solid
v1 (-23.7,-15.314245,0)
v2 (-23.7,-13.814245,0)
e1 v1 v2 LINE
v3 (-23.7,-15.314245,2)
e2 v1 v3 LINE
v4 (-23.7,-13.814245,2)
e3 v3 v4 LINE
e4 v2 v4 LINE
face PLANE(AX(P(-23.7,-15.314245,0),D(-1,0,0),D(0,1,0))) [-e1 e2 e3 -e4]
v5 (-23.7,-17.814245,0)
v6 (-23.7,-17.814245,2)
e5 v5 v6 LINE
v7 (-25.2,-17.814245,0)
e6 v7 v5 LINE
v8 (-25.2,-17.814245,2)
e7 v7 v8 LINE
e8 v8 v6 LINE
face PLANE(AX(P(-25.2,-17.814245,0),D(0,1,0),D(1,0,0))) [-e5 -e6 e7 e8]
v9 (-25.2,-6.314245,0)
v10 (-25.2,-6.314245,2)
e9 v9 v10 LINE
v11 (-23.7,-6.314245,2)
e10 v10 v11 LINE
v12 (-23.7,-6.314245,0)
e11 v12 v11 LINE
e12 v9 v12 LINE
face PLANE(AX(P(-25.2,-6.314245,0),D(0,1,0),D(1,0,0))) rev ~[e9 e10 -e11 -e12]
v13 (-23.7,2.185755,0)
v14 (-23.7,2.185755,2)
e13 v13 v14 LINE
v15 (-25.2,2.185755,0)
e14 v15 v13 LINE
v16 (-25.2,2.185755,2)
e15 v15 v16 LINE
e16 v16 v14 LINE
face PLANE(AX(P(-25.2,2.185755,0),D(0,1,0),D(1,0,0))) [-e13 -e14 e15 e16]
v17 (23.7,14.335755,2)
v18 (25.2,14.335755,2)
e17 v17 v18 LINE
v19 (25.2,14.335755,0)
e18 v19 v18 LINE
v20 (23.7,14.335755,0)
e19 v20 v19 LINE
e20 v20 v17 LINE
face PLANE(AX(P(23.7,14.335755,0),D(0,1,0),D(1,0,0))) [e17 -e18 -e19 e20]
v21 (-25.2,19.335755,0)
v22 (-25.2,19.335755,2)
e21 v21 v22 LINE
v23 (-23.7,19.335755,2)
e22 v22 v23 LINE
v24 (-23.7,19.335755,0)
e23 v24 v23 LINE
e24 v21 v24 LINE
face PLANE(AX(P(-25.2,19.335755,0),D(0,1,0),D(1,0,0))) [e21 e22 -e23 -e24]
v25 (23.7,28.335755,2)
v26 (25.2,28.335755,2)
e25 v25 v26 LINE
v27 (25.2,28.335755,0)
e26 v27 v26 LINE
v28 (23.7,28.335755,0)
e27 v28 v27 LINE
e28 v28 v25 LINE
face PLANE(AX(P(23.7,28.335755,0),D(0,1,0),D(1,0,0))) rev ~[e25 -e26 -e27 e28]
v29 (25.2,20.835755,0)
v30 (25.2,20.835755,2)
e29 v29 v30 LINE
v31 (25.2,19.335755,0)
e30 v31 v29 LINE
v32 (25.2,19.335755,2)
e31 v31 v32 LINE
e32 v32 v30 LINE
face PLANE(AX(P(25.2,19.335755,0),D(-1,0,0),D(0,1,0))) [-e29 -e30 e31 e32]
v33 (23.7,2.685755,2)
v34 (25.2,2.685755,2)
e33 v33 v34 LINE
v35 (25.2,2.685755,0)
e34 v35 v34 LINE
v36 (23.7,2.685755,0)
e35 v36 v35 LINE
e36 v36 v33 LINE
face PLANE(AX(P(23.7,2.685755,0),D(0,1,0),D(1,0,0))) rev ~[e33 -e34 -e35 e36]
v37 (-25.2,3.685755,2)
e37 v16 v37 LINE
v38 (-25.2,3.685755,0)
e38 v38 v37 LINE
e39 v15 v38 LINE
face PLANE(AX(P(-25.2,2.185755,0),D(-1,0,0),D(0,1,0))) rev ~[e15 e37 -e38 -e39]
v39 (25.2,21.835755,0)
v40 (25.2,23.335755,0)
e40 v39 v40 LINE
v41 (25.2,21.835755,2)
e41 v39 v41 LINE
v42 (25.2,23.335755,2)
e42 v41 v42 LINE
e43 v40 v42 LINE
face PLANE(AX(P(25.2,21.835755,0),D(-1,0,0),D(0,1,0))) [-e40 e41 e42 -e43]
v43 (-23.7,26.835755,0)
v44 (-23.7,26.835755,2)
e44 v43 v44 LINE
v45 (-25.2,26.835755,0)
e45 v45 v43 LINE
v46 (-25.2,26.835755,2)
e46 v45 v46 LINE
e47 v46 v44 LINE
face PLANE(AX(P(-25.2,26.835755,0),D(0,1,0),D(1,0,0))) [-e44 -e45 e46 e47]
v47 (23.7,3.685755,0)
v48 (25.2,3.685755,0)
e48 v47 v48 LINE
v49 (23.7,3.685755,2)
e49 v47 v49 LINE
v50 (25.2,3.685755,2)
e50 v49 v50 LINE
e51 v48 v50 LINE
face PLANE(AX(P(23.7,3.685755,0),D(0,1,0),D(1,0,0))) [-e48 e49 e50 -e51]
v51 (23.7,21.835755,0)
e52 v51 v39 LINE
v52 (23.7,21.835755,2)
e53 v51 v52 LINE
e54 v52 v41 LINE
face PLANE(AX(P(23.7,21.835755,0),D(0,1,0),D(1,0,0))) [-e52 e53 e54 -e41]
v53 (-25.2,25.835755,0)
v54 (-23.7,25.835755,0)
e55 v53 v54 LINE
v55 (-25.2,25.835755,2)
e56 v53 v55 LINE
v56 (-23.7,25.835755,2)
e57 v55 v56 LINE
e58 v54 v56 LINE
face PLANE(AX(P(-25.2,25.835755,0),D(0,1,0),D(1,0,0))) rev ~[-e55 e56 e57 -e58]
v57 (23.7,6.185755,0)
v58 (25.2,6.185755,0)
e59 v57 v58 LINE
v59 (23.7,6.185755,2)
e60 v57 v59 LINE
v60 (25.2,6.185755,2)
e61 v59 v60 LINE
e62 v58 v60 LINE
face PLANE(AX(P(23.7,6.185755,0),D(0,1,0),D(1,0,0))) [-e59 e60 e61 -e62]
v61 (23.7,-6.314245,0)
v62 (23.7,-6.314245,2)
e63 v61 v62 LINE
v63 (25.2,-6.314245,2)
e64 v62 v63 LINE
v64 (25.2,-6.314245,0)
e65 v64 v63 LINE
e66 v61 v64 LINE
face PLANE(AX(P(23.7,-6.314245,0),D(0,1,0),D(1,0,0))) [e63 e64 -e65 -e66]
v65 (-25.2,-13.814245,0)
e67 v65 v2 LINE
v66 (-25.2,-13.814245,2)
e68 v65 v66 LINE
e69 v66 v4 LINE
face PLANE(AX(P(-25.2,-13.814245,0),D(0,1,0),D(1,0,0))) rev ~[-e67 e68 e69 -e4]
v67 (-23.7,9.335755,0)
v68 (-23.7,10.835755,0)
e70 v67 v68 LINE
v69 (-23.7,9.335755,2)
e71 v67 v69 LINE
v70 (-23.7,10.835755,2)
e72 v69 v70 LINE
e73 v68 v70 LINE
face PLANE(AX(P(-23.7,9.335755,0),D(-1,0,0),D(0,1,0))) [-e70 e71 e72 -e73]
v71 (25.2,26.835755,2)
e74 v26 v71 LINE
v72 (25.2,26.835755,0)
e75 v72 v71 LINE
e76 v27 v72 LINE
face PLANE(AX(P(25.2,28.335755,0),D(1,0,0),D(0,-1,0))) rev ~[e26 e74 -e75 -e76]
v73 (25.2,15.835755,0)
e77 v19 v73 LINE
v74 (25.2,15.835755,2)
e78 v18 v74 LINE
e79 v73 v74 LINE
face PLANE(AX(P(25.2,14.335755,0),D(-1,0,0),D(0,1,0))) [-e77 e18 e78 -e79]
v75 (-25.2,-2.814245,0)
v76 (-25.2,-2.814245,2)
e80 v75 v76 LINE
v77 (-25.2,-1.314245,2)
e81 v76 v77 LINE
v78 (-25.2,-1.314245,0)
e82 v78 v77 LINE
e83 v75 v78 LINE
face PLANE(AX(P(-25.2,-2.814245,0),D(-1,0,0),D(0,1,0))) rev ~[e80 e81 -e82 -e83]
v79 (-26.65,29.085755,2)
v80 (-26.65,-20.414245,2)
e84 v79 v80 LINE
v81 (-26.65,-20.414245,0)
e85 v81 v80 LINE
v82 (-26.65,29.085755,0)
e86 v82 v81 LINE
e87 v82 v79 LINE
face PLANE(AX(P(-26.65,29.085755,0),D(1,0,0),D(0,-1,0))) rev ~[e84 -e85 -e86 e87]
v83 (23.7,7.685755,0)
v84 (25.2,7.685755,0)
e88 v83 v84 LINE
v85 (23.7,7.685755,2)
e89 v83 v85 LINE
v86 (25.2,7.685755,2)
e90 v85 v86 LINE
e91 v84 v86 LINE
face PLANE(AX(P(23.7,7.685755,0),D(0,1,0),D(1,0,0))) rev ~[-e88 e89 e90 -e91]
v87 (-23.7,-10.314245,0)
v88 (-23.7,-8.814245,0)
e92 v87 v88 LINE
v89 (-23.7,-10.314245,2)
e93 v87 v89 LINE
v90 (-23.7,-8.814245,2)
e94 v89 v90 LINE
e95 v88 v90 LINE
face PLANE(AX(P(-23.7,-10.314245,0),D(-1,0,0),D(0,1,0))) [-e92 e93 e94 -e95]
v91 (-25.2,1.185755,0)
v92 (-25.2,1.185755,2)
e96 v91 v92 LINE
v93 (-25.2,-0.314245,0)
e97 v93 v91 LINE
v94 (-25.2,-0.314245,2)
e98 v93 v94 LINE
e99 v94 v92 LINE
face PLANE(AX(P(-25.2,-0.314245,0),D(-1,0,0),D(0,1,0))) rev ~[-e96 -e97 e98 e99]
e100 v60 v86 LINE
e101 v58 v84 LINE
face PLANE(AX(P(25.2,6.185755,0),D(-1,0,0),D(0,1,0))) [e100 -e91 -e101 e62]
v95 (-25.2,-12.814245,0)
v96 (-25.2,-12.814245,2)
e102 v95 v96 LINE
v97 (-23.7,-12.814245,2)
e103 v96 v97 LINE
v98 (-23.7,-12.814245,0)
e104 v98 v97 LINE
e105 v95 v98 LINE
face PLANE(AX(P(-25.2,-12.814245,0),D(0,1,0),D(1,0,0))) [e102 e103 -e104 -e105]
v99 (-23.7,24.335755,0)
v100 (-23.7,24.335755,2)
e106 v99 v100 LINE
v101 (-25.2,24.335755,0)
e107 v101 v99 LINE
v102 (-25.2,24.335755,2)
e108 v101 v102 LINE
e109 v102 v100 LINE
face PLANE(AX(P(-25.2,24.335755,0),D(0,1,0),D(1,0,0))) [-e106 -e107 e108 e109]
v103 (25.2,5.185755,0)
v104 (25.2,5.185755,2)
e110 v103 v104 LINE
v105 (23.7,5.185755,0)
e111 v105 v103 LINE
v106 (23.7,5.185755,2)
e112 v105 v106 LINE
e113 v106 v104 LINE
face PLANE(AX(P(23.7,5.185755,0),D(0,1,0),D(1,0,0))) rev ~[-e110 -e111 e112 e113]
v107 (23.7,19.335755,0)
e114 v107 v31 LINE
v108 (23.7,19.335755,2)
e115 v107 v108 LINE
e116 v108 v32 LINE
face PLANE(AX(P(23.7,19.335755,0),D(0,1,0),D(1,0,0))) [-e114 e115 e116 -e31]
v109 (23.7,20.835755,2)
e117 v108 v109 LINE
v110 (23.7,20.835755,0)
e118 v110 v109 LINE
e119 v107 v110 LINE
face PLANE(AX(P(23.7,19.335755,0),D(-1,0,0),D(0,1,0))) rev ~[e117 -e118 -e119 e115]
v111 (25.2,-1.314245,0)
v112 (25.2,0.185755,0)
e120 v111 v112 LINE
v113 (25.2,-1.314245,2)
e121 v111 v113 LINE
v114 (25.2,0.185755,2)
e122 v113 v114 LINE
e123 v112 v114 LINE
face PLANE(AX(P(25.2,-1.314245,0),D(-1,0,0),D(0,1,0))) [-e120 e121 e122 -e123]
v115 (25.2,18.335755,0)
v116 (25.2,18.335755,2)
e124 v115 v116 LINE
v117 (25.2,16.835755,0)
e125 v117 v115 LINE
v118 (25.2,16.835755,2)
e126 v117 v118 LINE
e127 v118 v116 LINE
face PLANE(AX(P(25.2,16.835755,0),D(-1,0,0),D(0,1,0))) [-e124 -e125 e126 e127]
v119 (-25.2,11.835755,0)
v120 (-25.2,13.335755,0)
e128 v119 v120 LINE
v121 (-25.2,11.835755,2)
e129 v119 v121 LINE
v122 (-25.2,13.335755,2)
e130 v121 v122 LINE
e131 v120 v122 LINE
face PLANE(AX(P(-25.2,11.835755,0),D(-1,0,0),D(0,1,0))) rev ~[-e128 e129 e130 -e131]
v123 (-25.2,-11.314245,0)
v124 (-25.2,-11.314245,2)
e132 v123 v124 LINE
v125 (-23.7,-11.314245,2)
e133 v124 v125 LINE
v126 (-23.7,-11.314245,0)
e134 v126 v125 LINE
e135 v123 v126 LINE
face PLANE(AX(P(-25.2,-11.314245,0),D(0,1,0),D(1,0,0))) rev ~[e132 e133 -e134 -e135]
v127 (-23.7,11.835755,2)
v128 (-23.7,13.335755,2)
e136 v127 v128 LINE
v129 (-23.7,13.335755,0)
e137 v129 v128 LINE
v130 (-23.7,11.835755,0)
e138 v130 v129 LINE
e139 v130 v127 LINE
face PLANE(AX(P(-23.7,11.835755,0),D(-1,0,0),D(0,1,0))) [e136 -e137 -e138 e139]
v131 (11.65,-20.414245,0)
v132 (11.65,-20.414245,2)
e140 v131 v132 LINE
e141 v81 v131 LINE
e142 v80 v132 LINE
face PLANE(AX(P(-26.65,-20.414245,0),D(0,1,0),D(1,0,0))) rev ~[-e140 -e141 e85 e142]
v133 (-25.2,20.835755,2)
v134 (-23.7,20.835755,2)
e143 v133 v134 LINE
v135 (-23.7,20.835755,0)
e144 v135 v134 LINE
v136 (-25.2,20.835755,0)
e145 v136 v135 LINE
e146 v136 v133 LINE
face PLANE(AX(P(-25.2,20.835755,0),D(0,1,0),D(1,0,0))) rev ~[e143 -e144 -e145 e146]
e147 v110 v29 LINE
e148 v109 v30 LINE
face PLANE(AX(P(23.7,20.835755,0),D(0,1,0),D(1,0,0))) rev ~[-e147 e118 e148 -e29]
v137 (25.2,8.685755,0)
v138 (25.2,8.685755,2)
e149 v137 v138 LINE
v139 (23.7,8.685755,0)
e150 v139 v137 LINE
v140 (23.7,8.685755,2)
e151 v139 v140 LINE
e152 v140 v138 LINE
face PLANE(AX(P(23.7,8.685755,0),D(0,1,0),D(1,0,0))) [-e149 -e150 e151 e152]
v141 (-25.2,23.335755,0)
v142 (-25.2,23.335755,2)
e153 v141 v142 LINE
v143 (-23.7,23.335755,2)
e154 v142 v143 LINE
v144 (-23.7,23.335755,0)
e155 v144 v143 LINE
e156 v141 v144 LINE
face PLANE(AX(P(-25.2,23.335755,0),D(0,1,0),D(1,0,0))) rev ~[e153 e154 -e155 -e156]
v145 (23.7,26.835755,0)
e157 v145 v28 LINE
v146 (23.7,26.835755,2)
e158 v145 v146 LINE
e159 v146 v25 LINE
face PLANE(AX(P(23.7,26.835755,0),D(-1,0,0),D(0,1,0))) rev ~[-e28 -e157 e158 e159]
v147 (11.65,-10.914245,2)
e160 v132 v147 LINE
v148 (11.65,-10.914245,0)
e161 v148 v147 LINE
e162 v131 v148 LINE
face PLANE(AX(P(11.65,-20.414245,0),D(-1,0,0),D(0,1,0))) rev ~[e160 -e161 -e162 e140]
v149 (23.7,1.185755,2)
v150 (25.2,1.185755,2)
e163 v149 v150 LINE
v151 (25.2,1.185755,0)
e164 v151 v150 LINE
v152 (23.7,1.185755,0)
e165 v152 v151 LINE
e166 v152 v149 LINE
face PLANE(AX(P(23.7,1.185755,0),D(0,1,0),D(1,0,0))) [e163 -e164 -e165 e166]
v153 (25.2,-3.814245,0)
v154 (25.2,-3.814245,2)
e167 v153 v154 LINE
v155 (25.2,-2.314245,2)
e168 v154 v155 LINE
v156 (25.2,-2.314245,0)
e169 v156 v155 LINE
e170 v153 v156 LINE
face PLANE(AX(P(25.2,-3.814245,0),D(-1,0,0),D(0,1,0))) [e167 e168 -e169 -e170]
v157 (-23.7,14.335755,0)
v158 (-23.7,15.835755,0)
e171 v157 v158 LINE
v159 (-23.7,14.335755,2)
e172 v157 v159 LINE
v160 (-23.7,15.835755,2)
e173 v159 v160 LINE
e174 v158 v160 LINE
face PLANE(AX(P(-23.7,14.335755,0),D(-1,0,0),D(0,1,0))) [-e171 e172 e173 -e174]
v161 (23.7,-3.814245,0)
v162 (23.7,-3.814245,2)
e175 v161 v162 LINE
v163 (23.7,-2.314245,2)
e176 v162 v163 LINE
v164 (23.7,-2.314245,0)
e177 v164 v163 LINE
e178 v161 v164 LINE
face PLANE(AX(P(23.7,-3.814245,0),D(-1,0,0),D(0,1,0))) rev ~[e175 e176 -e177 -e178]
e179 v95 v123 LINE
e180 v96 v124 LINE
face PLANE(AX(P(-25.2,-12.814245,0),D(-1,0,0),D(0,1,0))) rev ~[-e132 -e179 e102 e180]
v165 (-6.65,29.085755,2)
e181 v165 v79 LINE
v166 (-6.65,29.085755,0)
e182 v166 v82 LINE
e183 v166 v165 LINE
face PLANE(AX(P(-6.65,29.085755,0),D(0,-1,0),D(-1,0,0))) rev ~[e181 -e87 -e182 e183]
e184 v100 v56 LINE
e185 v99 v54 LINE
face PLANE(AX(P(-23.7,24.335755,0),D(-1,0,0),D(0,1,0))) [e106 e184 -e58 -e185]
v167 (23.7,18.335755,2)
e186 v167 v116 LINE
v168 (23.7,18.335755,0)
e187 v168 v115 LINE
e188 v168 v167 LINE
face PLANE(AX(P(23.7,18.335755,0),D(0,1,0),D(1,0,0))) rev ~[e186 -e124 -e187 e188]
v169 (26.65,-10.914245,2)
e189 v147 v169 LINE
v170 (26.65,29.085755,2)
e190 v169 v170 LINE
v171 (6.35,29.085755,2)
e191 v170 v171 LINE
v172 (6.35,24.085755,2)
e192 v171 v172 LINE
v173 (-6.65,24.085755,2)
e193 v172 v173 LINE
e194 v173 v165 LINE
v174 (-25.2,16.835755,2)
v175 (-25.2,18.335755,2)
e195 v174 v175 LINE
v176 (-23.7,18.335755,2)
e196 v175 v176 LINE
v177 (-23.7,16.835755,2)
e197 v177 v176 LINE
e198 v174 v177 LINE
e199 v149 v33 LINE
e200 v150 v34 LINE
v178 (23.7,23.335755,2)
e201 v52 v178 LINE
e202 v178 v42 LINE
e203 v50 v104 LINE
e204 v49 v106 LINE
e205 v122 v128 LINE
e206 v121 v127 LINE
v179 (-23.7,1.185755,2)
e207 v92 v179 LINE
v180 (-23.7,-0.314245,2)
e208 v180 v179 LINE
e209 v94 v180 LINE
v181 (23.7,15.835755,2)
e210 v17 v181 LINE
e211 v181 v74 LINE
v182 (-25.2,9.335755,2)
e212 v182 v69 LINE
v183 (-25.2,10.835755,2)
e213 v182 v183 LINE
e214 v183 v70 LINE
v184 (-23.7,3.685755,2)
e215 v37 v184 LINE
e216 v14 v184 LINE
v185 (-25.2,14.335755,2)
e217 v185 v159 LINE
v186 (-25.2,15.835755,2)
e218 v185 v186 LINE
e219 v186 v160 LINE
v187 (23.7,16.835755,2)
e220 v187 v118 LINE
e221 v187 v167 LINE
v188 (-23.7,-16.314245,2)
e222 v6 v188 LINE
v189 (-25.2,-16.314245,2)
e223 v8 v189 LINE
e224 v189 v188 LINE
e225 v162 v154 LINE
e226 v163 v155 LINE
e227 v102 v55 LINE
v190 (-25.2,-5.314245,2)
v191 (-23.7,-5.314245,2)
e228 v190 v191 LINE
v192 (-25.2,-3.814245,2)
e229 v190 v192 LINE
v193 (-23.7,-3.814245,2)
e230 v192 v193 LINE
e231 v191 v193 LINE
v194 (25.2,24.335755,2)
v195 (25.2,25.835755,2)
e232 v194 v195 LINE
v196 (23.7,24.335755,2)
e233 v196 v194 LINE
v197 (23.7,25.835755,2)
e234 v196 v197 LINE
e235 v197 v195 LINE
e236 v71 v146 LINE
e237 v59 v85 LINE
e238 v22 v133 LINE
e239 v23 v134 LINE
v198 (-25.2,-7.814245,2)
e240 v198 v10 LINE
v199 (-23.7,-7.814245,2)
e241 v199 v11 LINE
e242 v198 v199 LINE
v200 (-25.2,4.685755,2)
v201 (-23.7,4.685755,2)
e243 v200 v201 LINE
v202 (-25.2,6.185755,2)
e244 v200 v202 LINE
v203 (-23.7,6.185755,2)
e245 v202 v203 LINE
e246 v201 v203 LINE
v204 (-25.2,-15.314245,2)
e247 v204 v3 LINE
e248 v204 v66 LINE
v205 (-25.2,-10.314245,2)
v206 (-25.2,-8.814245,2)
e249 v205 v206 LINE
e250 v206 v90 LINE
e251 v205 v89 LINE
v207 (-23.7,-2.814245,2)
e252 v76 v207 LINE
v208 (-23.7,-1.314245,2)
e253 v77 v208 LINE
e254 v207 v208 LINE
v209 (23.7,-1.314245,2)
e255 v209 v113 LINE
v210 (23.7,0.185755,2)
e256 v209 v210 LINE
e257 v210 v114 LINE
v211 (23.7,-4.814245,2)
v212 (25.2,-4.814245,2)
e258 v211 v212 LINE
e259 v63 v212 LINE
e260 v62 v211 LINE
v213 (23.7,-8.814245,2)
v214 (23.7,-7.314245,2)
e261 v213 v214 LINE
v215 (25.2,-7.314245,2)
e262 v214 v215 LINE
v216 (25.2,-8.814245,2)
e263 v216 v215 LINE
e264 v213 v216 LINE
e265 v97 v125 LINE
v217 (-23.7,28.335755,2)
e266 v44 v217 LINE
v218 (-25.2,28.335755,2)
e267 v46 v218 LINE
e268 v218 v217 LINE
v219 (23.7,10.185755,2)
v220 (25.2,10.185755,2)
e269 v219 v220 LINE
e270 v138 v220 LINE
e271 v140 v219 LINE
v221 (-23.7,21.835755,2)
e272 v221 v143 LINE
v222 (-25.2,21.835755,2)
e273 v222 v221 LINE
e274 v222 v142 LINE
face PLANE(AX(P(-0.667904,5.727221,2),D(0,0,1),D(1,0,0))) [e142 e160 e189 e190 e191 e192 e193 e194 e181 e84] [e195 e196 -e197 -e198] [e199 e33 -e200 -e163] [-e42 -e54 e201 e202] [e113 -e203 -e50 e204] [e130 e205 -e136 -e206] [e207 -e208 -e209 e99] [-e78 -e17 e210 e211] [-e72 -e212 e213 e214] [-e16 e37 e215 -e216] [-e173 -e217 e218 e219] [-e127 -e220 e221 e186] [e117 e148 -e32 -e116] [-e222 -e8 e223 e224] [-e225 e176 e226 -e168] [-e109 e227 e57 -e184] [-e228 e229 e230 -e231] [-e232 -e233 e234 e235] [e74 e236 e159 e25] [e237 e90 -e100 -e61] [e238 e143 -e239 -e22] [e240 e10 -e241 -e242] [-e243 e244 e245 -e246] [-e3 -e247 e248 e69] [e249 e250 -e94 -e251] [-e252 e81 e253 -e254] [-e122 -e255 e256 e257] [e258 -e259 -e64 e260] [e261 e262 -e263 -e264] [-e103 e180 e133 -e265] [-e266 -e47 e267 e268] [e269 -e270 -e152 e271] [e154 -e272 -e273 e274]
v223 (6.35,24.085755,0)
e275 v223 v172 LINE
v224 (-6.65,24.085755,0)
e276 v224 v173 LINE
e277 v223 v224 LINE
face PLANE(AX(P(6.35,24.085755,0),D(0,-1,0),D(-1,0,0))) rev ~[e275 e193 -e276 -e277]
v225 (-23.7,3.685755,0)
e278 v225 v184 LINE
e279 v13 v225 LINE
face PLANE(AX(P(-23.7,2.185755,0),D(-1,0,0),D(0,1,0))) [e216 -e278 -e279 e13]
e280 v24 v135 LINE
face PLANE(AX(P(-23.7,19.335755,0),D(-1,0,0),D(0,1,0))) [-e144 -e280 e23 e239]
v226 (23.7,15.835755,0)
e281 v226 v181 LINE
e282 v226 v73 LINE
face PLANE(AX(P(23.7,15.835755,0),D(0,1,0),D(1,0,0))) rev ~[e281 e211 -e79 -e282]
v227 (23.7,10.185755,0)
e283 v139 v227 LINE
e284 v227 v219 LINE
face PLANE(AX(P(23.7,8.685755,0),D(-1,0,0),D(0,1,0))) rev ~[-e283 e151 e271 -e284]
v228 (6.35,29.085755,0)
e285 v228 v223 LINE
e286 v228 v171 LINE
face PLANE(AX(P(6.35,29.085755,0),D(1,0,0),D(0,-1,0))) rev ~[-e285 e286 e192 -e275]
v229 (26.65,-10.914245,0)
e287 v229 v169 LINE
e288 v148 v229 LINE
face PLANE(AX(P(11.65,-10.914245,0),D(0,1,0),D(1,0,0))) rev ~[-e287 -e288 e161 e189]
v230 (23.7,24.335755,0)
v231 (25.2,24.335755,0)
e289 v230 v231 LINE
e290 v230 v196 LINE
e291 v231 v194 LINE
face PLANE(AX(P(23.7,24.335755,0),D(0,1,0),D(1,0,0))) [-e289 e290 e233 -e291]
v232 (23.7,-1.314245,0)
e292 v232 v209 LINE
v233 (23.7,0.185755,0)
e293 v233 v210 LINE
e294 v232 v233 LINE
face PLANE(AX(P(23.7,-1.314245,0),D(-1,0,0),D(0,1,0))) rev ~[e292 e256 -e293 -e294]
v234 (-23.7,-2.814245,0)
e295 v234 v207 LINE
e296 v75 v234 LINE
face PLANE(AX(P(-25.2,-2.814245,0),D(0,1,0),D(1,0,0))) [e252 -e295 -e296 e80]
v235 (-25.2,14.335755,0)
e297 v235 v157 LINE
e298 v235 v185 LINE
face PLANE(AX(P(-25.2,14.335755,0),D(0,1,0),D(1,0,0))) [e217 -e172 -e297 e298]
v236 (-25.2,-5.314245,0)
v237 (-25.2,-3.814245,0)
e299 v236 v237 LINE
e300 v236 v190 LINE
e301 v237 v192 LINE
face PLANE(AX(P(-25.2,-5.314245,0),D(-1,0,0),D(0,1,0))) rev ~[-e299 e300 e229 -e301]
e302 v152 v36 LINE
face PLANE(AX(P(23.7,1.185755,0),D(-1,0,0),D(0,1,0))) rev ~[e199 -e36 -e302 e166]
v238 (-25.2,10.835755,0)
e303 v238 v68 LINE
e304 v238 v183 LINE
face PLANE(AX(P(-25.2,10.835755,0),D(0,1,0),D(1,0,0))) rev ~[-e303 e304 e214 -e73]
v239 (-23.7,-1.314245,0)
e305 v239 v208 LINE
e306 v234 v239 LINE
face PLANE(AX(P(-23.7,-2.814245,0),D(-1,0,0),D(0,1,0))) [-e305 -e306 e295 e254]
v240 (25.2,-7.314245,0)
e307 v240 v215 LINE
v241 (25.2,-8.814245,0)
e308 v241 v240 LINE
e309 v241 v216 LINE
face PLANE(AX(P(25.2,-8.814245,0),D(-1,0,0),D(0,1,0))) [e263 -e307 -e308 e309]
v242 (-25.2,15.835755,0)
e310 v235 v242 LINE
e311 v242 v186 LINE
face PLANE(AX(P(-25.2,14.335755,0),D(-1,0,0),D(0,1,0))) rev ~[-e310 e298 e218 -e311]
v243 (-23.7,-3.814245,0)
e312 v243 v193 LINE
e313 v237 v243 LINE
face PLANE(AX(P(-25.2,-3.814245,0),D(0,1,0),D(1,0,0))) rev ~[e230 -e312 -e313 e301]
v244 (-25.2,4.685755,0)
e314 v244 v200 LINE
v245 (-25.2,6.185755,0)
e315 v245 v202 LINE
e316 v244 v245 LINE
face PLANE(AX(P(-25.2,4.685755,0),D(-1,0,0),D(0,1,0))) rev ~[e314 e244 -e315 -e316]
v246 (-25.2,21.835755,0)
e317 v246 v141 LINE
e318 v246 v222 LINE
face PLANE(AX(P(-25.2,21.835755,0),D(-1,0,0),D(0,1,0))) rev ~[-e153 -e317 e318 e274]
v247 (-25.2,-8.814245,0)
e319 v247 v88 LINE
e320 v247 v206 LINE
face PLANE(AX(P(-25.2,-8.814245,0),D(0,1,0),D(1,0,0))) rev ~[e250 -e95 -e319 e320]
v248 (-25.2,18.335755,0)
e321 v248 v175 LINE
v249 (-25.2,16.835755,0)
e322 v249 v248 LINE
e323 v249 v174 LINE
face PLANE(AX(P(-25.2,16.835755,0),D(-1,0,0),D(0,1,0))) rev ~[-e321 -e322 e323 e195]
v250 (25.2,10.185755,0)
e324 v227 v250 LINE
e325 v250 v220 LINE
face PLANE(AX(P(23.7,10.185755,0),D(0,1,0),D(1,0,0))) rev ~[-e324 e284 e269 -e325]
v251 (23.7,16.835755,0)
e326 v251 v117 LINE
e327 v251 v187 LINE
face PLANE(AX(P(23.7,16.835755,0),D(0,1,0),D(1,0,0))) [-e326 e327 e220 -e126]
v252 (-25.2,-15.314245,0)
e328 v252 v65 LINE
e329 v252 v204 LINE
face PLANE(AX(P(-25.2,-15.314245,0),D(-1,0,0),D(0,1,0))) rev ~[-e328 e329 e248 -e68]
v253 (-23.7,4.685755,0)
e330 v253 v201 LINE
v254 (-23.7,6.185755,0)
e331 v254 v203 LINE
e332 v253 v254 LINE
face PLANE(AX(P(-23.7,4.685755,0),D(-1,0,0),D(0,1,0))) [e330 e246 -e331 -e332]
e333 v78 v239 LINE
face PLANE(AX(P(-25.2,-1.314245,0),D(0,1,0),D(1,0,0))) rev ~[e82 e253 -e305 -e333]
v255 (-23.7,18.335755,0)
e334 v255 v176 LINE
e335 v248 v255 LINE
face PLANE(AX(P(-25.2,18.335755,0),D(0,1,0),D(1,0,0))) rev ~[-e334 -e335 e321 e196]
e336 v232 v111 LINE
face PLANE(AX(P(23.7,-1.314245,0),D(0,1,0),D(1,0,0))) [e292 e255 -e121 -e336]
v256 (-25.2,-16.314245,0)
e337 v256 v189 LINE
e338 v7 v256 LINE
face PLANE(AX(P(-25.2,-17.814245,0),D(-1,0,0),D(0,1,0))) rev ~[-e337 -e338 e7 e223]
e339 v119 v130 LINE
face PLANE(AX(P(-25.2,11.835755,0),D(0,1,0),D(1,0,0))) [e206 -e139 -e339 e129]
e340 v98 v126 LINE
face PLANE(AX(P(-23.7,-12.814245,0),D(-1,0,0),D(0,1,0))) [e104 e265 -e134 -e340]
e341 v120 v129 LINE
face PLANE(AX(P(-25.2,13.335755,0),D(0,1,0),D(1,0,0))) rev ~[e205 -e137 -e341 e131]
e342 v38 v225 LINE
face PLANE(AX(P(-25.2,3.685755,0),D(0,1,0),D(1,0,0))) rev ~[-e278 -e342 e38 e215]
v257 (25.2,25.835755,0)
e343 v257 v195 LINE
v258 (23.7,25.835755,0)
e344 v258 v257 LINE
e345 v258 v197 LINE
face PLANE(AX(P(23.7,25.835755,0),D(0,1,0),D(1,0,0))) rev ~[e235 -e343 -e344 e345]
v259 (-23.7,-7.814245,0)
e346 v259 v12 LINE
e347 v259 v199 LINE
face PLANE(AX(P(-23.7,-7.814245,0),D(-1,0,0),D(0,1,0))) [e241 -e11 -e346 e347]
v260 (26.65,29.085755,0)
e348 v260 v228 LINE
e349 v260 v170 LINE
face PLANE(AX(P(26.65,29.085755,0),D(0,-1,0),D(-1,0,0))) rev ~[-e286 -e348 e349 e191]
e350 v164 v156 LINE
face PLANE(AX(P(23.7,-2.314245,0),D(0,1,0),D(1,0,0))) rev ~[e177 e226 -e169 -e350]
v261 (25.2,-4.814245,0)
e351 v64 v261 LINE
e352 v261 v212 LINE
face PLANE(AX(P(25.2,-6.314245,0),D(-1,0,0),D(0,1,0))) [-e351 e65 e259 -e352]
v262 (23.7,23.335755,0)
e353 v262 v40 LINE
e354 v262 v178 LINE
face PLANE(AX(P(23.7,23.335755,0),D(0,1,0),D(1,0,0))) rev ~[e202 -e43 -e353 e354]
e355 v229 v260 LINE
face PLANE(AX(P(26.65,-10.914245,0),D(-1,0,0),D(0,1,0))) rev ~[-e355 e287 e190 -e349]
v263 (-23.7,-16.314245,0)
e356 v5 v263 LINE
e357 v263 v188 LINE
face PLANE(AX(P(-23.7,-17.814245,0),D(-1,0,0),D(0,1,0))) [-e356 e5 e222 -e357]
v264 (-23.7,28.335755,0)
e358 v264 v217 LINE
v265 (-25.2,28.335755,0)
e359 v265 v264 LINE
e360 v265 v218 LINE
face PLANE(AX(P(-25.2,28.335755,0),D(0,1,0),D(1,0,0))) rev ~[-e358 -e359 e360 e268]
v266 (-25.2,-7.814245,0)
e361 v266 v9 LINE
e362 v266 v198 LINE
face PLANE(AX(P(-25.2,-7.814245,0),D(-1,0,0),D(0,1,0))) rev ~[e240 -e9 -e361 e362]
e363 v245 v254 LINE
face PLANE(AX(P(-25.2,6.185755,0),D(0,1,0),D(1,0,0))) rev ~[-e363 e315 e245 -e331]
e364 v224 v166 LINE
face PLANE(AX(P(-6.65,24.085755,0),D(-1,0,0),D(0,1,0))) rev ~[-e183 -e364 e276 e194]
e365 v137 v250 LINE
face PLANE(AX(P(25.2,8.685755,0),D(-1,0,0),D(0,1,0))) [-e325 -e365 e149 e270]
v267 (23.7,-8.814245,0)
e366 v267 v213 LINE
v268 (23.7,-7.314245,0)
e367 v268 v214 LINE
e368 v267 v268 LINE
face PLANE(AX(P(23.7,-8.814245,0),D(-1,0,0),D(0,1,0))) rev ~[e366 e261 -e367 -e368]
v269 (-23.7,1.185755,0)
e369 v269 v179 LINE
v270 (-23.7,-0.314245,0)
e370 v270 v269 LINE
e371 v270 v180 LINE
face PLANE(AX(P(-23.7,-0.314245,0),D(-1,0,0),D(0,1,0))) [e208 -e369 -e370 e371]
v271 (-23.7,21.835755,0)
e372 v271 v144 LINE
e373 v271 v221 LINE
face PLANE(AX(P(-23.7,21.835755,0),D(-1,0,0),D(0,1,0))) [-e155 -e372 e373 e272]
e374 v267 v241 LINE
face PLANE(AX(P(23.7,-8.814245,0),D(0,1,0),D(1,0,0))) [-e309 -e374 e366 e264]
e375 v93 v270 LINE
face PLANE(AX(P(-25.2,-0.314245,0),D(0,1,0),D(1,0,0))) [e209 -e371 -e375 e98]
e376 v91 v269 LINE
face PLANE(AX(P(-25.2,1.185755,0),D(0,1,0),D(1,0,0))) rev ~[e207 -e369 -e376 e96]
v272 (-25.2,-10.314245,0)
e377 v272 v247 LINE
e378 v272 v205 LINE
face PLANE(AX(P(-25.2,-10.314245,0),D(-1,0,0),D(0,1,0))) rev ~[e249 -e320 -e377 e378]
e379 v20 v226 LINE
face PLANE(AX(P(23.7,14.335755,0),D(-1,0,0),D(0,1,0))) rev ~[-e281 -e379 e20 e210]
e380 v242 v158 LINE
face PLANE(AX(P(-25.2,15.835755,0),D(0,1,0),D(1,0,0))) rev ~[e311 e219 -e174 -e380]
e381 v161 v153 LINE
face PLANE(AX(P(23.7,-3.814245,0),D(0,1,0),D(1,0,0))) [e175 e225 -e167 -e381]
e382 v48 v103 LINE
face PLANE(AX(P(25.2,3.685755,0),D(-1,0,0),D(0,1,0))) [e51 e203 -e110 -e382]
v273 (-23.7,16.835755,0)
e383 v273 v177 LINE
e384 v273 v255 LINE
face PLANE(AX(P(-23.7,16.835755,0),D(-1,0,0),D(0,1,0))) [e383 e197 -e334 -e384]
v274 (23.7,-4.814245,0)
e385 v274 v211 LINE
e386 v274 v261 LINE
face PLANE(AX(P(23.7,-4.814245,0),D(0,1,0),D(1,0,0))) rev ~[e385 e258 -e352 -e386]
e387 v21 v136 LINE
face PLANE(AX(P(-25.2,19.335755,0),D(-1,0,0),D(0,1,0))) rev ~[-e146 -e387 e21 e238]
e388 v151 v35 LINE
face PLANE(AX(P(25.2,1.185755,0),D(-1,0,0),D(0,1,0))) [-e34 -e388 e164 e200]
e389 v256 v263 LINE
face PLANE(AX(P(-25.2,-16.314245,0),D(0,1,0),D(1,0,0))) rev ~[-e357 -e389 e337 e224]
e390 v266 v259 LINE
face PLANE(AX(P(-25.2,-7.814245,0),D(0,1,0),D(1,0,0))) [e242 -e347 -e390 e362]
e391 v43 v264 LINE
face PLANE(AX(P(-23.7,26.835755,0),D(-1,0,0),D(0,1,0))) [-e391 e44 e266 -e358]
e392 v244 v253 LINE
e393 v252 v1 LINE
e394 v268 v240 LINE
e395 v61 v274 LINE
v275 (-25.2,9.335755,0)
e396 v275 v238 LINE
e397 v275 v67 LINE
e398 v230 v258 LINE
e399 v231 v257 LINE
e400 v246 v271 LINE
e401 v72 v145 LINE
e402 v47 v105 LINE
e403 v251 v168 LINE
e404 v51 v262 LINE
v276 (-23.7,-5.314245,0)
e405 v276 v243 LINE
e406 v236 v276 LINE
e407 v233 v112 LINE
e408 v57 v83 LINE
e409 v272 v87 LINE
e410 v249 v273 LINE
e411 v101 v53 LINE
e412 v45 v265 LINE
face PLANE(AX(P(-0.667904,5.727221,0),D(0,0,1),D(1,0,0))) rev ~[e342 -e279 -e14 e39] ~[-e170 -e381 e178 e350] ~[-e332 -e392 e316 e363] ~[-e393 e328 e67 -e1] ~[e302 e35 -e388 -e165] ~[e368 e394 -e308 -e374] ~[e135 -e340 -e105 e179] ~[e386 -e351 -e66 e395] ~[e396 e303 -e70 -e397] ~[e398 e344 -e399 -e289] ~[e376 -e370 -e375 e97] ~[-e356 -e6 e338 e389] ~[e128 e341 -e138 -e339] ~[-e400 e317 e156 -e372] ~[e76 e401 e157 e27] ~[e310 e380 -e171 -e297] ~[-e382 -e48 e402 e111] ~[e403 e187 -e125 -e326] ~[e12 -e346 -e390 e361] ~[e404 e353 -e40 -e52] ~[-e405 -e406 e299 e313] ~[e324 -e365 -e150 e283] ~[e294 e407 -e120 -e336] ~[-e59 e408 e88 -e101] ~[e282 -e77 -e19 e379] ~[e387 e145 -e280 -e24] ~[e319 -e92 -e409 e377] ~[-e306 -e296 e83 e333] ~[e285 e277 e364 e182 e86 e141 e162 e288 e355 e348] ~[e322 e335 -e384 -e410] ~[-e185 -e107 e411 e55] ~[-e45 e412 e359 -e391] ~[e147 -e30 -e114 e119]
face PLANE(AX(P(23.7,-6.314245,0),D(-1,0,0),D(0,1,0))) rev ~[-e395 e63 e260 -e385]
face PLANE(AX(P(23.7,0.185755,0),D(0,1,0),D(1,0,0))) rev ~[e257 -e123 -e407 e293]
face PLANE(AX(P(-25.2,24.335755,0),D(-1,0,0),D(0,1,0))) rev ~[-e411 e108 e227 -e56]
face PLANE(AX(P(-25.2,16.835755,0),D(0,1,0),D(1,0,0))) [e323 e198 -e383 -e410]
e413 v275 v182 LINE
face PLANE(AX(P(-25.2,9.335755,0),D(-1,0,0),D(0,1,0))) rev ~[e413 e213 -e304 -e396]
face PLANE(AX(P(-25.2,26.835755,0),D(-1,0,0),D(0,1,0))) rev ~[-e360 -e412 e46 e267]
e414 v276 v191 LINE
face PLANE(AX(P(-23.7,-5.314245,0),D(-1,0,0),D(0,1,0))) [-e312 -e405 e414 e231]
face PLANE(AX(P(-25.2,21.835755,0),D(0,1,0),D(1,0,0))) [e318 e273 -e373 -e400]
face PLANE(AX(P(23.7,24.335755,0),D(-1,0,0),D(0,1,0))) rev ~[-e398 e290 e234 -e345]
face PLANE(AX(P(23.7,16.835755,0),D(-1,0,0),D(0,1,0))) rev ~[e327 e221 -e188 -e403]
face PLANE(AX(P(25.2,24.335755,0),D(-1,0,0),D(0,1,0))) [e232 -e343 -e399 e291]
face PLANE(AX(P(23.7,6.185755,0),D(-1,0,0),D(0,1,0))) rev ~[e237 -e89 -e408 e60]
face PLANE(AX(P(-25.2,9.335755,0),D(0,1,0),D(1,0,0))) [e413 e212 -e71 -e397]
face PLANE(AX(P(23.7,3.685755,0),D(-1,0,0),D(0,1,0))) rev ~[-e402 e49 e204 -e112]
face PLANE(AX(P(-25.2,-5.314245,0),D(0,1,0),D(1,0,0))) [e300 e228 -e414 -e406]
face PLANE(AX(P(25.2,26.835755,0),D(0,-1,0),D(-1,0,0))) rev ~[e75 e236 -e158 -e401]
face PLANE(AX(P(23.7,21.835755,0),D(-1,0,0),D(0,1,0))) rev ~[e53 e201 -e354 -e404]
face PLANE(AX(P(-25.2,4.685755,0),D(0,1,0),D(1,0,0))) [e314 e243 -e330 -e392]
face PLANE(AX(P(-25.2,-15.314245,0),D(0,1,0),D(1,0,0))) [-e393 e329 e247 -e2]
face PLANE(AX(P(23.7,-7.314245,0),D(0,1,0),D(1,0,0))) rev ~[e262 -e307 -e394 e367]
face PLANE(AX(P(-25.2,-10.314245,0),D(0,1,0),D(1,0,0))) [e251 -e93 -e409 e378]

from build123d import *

# Parameters (mm, degrees)
F0_W     = 1.5
F0_H     = 1.5
F1_DEPTH = 2


with BuildPart() as f1:
    # F0 (on Top) → F1 (new body)
    with BuildSketch(Plane.XY):
        Polygon((26.65, -10.914245), (26.65, 29.085755), (25.45, 29.085755), (23.45, 29.085755), (6.35, 29.085755), (6.35, 24.085755), (-6.65, 24.085755), (-6.65, 29.085755), (-23.45, 29.085755), (-25.45, 29.085755), (-26.65, 29.085755), (-26.65, -20.414245), (11.65, -20.414245), (11.65, -10.914245), align=None)
        with Locations((-24.45, -17.064245)):
            Rectangle(F0_W, F0_H, mode=Mode.SUBTRACT)
        with Locations((-24.45, -14.564245)):
            Rectangle(F0_W, F0_H, mode=Mode.SUBTRACT)
        with Locations((-24.45, -12.064245)):
            Rectangle(F0_W, F0_H, mode=Mode.SUBTRACT)
        with Locations((-24.45, -9.564245)):
            Rectangle(F0_W, F0_H, mode=Mode.SUBTRACT)
        with Locations((-24.45, -7.064245)):
            Rectangle(F0_W, F0_H, mode=Mode.SUBTRACT)
        with Locations((-24.45, -4.564245)):
            Rectangle(F0_W, F0_H, mode=Mode.SUBTRACT)
        with Locations((-24.45, -2.064245)):
            Rectangle(F0_W, F0_H, mode=Mode.SUBTRACT)
        with Locations((-24.45, 0.435755)):
            Rectangle(F0_W, F0_H, mode=Mode.SUBTRACT)
        with Locations((-24.45, 2.935755)):
            Rectangle(F0_W, F0_H, mode=Mode.SUBTRACT)
        with Locations((24.45, -8.064245)):
            Rectangle(F0_W, F0_H, mode=Mode.SUBTRACT)
        with Locations((24.45, -5.564245)):
            Rectangle(F0_W, F0_H, mode=Mode.SUBTRACT)
        with Locations((24.45, -3.064245)):
            Rectangle(F0_W, F0_H, mode=Mode.SUBTRACT)
        with Locations((24.45, -0.564245)):
            Rectangle(F0_W, F0_H, mode=Mode.SUBTRACT)
        with Locations((24.45, 1.935755)):
            Rectangle(F0_W, F0_H, mode=Mode.SUBTRACT)
        with Locations((-24.45, 5.435755)):
            Rectangle(F0_W, F0_H, mode=Mode.SUBTRACT)
        with Locations((-24.45, 10.085755)):
            Rectangle(F0_W, F0_H, mode=Mode.SUBTRACT)
        with Locations((-24.45, 12.585755)):
            Rectangle(F0_W, F0_H, mode=Mode.SUBTRACT)
        with Locations((-24.45, 15.085755)):
            Rectangle(F0_W, F0_H, mode=Mode.SUBTRACT)
        with Locations((-24.45, 17.585755)):
            Rectangle(F0_W, F0_H, mode=Mode.SUBTRACT)
        with Locations((-24.45, 20.085755)):
            Rectangle(F0_W, F0_H, mode=Mode.SUBTRACT)
        with Locations((-24.45, 22.585755)):
            Rectangle(F0_W, F0_H, mode=Mode.SUBTRACT)
        with Locations((-24.45, 25.085755)):
            Rectangle(F0_W, F0_H, mode=Mode.SUBTRACT)
        with Locations((-24.45, 27.585755)):
            Rectangle(F0_W, F0_H, mode=Mode.SUBTRACT)
        with Locations((24.45, 4.435755)):
            Rectangle(F0_W, F0_H, mode=Mode.SUBTRACT)
        with Locations((24.45, 6.935755)):
            Rectangle(F0_W, F0_H, mode=Mode.SUBTRACT)
        with Locations((24.45, 9.435755)):
            Rectangle(F0_W, F0_H, mode=Mode.SUBTRACT)
        with Locations((24.45, 15.085755)):
            Rectangle(F0_W, F0_H, mode=Mode.SUBTRACT)
        with Locations((24.45, 17.585755)):
            Rectangle(F0_W, F0_H, mode=Mode.SUBTRACT)
        with Locations((24.45, 20.085755)):
            Rectangle(F0_W, F0_H, mode=Mode.SUBTRACT)
        with Locations((24.45, 22.585755)):
            Rectangle(F0_W, F0_H, mode=Mode.SUBTRACT)
        with Locations((24.45, 25.085755)):
            Rectangle(F0_W, F0_H, mode=Mode.SUBTRACT)
        Polygon((25.2, 28.085755), (25.2, 26.835755), (23.7, 26.835755), (23.7, 28.335755), (25.2, 28.335755), align=None, mode=Mode.SUBTRACT)
    extrude(amount=F1_DEPTH)


solid = f1.part
